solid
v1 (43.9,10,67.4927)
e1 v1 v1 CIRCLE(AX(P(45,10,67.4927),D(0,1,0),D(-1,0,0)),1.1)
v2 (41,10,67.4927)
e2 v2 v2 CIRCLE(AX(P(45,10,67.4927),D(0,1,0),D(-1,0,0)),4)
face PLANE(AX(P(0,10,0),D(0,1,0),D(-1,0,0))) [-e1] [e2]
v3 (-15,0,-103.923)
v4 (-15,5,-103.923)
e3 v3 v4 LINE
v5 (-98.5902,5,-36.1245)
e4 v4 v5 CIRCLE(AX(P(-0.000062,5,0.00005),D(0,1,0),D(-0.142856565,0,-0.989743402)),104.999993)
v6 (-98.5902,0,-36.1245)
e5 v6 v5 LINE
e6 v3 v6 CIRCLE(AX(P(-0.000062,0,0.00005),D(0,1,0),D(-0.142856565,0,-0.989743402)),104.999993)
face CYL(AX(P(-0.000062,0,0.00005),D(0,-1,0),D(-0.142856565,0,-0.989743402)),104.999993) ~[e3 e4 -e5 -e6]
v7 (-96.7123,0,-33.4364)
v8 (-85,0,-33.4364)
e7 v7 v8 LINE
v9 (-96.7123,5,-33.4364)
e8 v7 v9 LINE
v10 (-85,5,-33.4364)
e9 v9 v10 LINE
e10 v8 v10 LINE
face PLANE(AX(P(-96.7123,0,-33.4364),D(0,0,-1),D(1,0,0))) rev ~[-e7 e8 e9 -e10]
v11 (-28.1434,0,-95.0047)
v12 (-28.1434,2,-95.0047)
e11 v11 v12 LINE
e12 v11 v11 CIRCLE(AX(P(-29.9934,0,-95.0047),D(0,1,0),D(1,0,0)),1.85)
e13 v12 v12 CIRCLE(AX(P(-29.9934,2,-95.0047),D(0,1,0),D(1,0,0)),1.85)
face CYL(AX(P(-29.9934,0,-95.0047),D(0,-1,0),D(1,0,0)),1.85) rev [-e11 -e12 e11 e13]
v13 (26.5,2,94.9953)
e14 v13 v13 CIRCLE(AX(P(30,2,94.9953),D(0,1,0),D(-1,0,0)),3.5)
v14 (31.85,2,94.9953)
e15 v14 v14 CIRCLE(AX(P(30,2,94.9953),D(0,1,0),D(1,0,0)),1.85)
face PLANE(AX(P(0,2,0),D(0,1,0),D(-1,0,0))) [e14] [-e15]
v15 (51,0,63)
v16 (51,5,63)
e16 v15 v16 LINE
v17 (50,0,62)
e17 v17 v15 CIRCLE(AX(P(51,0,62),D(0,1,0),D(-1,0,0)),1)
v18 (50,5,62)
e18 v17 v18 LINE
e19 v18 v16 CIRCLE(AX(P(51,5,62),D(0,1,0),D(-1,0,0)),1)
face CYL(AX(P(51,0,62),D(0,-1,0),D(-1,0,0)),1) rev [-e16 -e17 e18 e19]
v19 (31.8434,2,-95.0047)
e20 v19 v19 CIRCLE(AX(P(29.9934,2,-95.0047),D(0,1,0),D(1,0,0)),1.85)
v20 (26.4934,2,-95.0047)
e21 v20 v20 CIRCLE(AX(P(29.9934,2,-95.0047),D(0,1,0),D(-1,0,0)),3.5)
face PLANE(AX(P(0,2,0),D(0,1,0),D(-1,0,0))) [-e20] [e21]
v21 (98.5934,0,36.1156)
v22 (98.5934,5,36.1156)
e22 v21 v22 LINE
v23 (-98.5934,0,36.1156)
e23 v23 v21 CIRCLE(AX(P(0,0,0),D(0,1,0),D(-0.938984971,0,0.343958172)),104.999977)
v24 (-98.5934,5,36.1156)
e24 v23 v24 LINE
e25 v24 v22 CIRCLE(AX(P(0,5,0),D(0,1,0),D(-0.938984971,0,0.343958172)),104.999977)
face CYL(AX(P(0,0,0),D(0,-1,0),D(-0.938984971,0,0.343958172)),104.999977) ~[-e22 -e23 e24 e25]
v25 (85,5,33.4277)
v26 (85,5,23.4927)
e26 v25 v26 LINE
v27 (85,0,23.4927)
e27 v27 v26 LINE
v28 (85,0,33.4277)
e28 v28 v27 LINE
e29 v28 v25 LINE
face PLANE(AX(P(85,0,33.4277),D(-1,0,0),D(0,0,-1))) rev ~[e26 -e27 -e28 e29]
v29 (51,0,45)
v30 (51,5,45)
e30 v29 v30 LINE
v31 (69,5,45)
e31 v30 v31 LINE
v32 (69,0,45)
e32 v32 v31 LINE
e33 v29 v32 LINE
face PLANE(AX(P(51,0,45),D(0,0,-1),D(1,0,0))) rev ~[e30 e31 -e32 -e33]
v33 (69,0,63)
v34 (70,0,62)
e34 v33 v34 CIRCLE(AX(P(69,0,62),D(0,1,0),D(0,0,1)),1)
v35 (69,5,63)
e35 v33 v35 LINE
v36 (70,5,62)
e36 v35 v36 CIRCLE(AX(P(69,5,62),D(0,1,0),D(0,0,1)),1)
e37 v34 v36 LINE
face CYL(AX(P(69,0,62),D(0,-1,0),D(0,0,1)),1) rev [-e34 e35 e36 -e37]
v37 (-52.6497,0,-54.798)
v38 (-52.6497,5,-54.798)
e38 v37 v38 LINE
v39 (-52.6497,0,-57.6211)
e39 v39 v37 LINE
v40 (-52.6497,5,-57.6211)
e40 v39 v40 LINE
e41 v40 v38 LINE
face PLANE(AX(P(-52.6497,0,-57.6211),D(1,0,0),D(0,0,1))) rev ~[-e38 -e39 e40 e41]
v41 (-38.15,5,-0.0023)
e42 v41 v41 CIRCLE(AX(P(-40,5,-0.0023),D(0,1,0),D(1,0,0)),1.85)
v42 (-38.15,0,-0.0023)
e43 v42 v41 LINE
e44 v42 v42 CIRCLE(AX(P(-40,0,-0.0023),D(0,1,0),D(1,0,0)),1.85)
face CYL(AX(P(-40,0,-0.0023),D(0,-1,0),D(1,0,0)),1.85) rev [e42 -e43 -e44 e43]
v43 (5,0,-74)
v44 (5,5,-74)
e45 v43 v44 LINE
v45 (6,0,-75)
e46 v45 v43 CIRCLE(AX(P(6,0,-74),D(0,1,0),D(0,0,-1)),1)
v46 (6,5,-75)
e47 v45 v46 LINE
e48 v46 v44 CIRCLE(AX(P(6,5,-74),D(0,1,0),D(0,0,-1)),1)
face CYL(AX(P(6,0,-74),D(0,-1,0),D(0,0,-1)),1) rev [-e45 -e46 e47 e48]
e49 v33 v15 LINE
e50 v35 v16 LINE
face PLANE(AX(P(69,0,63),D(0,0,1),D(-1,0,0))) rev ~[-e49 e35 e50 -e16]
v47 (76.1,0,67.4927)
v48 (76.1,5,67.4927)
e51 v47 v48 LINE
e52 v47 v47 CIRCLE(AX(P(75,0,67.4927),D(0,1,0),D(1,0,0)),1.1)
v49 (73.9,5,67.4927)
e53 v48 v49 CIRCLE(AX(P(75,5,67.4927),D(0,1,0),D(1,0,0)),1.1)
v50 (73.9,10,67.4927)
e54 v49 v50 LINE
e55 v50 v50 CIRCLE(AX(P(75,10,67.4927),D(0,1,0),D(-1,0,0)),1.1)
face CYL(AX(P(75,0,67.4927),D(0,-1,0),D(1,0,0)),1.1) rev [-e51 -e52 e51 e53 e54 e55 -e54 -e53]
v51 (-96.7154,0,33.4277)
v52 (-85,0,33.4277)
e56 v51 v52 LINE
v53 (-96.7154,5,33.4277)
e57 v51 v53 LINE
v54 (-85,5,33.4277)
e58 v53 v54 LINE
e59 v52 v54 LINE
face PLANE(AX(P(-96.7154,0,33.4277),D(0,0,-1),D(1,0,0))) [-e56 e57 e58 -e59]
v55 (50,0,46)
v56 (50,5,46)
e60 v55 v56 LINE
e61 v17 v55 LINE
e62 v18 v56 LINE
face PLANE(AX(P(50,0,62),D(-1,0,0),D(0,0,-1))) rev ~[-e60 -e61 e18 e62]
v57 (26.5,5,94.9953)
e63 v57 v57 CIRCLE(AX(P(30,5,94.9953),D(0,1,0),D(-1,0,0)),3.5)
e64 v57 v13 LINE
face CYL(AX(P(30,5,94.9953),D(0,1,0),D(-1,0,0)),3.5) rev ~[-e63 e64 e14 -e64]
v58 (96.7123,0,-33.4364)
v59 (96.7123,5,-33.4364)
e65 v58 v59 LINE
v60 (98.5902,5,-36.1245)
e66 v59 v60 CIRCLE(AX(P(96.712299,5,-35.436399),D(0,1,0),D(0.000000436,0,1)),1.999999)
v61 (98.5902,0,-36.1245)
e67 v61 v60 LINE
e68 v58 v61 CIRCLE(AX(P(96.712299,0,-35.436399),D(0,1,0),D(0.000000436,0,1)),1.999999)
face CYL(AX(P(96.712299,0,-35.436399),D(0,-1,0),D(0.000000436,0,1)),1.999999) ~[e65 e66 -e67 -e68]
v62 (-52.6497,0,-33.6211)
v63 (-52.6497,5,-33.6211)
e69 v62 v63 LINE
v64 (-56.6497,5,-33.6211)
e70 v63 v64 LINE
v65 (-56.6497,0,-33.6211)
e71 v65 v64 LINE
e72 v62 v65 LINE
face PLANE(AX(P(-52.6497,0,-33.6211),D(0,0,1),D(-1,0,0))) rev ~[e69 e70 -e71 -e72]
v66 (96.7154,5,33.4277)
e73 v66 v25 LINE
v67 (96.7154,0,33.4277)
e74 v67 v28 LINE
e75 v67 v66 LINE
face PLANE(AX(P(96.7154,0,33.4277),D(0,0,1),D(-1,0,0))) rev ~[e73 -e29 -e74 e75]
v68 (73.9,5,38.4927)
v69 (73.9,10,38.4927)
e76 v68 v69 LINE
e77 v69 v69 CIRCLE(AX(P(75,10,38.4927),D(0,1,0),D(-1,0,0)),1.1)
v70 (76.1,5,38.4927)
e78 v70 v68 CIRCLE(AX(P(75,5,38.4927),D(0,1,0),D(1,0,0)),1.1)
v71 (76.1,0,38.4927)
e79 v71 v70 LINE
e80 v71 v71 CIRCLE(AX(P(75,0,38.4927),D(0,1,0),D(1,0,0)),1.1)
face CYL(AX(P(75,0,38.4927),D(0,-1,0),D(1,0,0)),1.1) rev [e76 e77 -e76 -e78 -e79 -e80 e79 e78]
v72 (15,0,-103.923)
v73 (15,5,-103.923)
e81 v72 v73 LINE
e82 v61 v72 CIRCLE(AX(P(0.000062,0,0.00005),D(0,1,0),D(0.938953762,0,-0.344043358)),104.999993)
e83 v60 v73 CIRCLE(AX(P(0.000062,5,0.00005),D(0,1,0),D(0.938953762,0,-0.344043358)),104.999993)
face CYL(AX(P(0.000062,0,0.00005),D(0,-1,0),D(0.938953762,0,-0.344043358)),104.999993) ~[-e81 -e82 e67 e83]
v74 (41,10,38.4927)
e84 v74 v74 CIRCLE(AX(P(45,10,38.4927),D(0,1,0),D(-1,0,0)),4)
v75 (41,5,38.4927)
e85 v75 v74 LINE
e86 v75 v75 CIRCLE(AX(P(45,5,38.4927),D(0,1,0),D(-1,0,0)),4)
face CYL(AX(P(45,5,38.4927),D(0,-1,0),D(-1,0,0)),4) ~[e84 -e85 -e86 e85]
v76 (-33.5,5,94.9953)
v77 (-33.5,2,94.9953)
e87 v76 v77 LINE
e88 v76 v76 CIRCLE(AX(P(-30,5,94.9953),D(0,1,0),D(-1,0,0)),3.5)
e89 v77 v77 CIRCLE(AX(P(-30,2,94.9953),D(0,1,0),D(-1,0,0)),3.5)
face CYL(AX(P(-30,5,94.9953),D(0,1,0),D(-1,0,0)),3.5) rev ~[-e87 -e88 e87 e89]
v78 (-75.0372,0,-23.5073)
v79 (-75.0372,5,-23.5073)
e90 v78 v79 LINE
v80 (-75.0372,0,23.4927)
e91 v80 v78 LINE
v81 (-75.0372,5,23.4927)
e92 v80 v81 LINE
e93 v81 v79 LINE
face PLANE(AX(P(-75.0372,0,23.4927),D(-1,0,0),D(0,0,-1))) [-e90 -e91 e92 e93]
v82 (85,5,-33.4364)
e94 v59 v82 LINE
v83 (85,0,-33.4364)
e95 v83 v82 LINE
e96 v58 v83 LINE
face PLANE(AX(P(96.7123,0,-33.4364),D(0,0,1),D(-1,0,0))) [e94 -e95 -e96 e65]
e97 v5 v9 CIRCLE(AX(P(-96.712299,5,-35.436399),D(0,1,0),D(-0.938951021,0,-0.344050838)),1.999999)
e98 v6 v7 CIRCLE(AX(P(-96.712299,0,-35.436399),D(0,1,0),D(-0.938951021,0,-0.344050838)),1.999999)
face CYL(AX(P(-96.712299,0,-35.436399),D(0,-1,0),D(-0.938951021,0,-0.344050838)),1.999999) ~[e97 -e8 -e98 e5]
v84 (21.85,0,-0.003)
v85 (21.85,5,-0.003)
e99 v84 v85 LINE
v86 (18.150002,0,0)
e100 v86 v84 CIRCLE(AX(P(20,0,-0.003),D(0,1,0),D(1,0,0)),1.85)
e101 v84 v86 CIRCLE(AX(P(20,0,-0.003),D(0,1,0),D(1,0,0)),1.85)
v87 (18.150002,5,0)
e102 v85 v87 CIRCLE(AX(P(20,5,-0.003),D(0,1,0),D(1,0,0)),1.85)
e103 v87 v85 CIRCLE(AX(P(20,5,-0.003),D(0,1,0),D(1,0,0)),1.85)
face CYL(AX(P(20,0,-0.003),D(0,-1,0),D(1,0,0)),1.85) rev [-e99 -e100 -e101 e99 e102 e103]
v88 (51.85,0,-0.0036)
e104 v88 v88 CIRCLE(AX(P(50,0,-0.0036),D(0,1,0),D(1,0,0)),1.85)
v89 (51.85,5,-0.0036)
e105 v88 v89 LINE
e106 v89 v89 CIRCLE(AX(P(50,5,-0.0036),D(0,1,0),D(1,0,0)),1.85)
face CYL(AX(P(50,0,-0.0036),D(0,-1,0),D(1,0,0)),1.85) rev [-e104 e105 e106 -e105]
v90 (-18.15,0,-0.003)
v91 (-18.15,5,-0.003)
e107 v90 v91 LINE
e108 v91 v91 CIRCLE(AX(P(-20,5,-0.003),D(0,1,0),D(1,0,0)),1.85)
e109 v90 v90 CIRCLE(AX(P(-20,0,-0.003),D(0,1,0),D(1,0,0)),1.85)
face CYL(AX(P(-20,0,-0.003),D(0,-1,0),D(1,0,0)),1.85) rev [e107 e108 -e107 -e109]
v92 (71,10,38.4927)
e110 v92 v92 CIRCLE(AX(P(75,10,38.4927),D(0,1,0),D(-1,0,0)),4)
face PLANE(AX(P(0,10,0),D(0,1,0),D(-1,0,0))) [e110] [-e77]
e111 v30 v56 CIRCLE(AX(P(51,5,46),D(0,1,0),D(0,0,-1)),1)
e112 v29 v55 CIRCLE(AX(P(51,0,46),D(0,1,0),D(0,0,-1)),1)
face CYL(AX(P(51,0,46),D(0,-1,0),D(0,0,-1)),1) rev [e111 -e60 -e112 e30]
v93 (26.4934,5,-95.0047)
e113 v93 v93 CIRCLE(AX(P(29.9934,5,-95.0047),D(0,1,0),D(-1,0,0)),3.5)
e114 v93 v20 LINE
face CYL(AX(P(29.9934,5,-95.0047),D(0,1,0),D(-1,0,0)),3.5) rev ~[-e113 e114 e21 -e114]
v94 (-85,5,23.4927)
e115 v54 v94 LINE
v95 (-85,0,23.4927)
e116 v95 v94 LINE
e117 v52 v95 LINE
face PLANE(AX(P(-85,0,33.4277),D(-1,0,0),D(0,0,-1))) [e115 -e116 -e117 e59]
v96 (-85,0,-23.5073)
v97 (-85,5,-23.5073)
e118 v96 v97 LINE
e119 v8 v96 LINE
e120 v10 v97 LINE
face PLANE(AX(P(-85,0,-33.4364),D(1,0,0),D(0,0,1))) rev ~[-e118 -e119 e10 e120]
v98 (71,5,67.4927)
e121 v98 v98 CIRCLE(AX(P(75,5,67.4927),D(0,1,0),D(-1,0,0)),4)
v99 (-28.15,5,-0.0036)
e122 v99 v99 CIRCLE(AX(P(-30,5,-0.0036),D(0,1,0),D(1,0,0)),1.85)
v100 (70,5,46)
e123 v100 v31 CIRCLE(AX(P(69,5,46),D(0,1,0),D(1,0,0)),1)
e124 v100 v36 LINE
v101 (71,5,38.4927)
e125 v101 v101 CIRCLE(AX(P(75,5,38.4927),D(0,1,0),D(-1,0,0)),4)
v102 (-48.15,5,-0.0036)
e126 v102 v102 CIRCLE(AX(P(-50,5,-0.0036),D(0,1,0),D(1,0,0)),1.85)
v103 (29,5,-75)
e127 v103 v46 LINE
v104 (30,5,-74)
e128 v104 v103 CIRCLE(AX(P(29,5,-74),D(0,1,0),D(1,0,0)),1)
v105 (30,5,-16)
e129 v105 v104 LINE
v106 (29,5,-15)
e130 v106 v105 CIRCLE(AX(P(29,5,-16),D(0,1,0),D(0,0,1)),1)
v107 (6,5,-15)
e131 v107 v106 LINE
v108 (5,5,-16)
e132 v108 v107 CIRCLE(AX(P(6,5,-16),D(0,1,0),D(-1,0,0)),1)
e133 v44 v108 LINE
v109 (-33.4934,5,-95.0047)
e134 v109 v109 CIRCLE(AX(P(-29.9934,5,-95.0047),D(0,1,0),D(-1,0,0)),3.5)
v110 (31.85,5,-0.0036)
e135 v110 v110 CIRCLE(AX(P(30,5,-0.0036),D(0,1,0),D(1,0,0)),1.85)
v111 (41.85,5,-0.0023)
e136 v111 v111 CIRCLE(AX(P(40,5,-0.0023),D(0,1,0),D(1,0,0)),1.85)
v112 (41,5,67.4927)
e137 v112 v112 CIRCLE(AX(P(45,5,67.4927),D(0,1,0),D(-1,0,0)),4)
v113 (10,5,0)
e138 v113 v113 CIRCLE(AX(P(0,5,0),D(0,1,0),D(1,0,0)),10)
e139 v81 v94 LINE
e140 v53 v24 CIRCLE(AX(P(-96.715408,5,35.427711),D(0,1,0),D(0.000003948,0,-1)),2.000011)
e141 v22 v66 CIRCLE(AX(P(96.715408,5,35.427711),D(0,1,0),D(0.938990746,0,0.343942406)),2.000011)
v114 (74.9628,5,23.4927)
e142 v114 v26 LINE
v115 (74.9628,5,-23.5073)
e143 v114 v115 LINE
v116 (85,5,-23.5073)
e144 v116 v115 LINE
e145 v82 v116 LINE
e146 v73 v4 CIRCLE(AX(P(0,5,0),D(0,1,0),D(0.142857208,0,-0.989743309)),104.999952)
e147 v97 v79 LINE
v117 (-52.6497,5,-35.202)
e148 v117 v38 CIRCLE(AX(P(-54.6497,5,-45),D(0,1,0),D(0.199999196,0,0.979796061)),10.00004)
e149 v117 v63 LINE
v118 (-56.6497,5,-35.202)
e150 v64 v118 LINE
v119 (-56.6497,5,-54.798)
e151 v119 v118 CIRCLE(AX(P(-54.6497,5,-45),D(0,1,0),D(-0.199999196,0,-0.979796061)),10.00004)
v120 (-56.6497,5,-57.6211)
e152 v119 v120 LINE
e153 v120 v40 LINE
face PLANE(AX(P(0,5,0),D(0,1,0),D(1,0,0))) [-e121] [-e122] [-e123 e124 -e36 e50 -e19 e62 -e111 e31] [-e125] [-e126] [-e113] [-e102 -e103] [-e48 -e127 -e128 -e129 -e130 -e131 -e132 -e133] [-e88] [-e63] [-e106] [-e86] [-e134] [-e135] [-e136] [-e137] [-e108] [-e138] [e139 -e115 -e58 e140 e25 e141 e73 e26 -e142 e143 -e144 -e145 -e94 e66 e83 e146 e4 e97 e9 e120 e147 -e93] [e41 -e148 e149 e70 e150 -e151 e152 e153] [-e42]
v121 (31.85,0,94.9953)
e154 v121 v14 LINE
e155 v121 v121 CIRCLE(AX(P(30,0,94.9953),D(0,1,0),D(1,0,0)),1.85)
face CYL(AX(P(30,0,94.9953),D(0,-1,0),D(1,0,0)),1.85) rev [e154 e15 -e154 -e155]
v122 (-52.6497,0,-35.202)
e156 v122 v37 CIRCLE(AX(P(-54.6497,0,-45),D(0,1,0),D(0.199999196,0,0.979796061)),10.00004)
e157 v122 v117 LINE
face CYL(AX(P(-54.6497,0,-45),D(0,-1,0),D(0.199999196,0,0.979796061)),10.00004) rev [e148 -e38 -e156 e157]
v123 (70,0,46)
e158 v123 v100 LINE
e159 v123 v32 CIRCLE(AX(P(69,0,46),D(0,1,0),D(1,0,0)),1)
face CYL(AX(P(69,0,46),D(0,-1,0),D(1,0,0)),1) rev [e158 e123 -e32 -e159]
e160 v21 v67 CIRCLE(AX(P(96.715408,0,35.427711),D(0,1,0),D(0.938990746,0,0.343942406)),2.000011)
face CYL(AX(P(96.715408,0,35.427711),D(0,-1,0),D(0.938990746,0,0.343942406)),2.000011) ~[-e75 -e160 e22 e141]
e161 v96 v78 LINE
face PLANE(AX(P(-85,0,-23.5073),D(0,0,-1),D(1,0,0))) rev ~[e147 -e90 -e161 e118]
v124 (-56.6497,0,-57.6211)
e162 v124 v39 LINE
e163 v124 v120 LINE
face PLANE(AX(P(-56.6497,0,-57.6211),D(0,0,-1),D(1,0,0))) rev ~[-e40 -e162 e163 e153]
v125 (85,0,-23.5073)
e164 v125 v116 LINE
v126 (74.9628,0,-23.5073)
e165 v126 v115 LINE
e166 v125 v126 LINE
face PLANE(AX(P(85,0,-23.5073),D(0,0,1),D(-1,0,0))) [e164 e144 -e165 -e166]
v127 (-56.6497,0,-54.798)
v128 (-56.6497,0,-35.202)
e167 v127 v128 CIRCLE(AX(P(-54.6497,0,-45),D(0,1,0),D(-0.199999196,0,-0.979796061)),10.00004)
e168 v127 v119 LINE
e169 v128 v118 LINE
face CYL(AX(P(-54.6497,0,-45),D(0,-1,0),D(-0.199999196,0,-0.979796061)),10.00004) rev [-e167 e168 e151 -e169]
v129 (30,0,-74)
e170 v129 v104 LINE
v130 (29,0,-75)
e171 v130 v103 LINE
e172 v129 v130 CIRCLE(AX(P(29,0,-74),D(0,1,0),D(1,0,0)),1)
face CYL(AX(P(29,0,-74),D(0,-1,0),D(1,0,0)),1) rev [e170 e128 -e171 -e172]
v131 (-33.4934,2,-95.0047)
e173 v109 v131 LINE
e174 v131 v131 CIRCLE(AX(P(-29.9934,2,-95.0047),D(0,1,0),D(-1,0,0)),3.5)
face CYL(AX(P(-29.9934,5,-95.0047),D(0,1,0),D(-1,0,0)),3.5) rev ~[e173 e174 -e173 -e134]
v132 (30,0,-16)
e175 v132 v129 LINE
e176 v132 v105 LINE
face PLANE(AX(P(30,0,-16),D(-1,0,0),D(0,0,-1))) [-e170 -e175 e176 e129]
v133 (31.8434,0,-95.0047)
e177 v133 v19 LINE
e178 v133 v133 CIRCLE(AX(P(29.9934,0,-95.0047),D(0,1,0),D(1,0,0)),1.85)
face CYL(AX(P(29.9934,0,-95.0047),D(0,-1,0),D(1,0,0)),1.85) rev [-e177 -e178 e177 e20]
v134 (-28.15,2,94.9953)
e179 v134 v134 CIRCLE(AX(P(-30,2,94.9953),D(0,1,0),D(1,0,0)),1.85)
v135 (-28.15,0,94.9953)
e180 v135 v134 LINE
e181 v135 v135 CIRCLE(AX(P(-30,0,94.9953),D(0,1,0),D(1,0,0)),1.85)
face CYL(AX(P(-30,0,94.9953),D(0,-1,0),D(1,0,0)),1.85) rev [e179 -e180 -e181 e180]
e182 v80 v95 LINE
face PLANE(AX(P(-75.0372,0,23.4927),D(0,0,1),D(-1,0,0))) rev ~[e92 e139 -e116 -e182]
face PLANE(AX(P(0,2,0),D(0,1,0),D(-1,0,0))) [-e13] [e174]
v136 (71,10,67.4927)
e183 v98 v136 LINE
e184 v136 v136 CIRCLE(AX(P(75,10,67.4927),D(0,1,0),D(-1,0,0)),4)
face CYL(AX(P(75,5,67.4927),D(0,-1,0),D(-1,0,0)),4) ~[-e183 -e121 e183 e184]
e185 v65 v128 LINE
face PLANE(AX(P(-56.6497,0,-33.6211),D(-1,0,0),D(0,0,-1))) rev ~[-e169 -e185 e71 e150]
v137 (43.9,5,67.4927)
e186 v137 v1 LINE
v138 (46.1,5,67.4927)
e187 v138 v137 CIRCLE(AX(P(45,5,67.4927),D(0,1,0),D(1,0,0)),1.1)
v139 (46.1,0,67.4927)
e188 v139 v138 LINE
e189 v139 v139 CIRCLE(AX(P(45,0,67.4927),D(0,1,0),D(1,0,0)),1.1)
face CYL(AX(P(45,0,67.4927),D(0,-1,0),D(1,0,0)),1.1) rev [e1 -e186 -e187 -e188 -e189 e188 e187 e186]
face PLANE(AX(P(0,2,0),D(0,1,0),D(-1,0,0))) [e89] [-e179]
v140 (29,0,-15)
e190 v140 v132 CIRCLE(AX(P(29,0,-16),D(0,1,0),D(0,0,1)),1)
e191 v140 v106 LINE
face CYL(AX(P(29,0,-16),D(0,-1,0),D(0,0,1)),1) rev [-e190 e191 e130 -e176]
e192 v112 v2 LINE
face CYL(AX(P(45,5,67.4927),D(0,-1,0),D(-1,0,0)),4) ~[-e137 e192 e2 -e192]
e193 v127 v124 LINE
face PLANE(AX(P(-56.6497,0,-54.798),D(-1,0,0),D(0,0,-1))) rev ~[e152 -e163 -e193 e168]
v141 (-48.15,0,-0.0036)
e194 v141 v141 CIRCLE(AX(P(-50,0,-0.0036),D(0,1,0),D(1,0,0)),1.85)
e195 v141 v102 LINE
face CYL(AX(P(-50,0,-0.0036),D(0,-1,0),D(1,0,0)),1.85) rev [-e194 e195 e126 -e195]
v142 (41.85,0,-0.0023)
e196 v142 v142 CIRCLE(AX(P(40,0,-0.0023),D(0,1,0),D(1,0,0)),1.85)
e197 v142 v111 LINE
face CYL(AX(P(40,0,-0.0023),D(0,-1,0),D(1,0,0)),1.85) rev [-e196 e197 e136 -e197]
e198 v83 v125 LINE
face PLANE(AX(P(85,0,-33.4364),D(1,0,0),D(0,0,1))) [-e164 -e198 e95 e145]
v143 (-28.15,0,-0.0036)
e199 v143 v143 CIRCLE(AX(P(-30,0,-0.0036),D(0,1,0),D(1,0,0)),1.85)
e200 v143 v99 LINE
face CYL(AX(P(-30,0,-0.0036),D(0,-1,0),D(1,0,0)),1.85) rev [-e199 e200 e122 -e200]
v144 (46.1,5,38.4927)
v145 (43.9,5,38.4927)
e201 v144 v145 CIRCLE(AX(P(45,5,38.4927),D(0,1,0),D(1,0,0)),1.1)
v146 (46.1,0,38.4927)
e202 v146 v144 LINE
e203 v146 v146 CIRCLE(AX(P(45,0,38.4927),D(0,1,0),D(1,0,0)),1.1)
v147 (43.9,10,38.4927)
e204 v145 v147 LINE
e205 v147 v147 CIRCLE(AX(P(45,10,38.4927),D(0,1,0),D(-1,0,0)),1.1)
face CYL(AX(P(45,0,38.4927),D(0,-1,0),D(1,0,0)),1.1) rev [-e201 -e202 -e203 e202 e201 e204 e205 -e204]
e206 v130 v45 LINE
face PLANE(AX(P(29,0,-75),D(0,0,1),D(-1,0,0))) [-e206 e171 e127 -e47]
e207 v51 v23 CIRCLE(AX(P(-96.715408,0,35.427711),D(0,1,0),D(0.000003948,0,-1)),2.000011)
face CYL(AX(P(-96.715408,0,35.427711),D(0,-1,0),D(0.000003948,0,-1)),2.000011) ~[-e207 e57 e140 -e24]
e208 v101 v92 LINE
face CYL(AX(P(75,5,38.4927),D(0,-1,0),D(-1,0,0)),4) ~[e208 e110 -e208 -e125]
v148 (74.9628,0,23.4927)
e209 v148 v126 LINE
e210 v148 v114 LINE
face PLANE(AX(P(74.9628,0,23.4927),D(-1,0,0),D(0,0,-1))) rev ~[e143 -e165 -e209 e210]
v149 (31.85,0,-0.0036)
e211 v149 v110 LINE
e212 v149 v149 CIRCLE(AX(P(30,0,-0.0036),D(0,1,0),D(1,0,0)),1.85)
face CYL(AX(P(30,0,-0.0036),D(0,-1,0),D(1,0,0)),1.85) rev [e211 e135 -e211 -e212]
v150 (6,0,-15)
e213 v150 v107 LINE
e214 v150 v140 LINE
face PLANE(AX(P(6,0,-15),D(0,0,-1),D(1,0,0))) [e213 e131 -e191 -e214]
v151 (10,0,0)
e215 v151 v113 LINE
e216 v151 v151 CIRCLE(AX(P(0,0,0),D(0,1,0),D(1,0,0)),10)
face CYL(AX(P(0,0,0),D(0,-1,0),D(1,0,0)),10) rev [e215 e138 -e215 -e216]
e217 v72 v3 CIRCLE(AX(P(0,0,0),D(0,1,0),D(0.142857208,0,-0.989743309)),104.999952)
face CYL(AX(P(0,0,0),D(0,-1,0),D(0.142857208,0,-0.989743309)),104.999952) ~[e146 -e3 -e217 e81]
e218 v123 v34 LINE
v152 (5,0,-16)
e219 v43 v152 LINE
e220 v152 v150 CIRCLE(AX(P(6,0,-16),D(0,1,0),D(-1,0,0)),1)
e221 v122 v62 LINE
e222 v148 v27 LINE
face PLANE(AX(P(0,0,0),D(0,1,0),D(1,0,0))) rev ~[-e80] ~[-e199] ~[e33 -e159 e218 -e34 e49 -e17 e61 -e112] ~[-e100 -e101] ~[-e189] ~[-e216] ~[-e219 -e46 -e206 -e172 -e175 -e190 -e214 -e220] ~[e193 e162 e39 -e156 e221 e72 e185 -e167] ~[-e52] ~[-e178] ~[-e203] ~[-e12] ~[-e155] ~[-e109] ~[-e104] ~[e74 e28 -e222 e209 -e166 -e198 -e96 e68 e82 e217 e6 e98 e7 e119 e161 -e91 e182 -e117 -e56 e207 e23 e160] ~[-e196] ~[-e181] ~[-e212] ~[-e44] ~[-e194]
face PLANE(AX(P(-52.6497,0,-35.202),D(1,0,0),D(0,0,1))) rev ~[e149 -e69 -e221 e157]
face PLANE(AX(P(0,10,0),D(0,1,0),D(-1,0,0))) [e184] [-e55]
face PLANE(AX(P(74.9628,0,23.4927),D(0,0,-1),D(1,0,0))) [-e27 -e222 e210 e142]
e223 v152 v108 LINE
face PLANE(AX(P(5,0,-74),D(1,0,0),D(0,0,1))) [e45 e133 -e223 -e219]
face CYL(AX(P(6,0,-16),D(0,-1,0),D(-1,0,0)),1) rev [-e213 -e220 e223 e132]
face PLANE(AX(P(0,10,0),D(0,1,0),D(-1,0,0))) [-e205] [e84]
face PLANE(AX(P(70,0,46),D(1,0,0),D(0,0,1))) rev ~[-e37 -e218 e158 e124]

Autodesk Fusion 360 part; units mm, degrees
sketch "podklad" plane through (0, 0, 0) normal (0, 1, 0) x (1, 0, 0)
  line L0 (45, -67.4927) -> (75, -67.4927) construction
  line L1 (-75.0372, -23.4927) -> (-85, -23.4927)
  arc A0 (96.7123, 33.4364) -> (98.5902, 36.1245) centre (96.7123, 35.4364) ccw
  line L2 (45, -38.4927) -> (45, -67.4927) construction
  line L3 (85, -33.4277) -> (85, -23.4927)
  line L4 (-75.0372, -23.4927) -> (-75.0372, 23.5073)
  line L5 (74.9628, -23.4927) -> (74.9628, 23.5073)
  line L6 (0, 105) -> (0, -105) construction
  line L7 (-85, 23.5073) -> (-75.0372, 23.5073)
  arc A1 (-98.5902, 36.1245) -> (-96.7123, 33.4364) centre (-96.7123, 35.4364) ccw
  arc A2 (-96.7154, -33.4277) -> (-98.5934, -36.1156) centre (-96.7154, -35.4277) ccw
  line L8 (74.9628, -23.4927) -> (85, -23.4927)
  line L9 (85, 23.5073) -> (74.9628, 23.5073)
  line L10 (-85, 33.4364) -> (-85, 23.5073)
  arc A3 (-98.5934, -36.1156) -> (98.5934, -36.1156) centre (0, 0) ccw
  line L11 (85, 33.4364) -> (85, 23.5073)
  line L12 (96.7123, 33.4364) -> (85, 33.4364)
  line L13 (-96.7154, -33.4277) -> (-85, -33.4277)
  arc A4 (98.5934, -36.1156) -> (96.7154, -33.4277) centre (96.7154, -35.4277) ccw
  line L14 (75, -67.4927) -> (75, -38.4927) construction
  arc A5 (98.5902, 36.1245) -> (15, 103.923) centre (0, 0) ccw
  arc A6 (15, 103.923) -> (-15, 103.923) centre (0, 0) ccw
  arc A7 (-15, 103.923) -> (-98.5902, 36.1245) centre (0, 0) ccw
  circle A8 centre (75, -38.4927) radius 1.1
  line L15 (75, -38.4927) -> (45, -38.4927) construction
  line L16 (-96.7123, 33.4364) -> (-85, 33.4364)
  circle A9 centre (75, -67.4927) radius 1.1
  circle A10 centre (45, -38.4927) radius 1.1
  line L17 (96.7154, -33.4277) -> (85, -33.4277)
  line L18 (-85, -33.4277) -> (-85, -23.4927)
  circle A11 centre (45, -67.4927) radius 1.1
  line L19 (51, -45) -> (69, -45)
  line L20 (70, -46) -> (70, -62)
  line L21 (69, -63) -> (51, -63)
  line L22 (50, -62) -> (50, -46)
  circle A12 centre (-30, -94.9953) radius 1.85
  circle A13 centre (30, -94.9953) radius 1.85
  circle A14 centre (-29.9934, 95.0047) radius 1.85
  circle A15 centre (29.9934, 95.0047) radius 1.85
  circle A16 centre (0, 0) radius 10
  circle A17 centre (-20, 0.003) radius 1.85
  circle A18 centre (-30, 0.0036) radius 1.85
  circle A19 centre (-40, 0.0023) radius 1.85
  circle A20 centre (-50, 0.0036) radius 1.85
  circle A21 centre (50, 0.0036) radius 1.85
  circle A22 centre (40, 0.0023) radius 1.85
  circle A23 centre (30, 0.0036) radius 1.85
  circle A24 centre (20, 0.003) radius 1.85
  arc A25 (51, -45) -> (50, -46) centre (51, -46) ccw
  arc A26 (70, -46) -> (69, -45) centre (69, -46) ccw
  arc A27 (69, -63) -> (70, -62) centre (69, -62) ccw
  arc A28 (50, -62) -> (51, -63) centre (51, -62) ccw
  line L23 (2.5, 0) -> (20, 0)
  line L24 (6, 15) -> (29, 15)
  line L25 (30, 16) -> (30, 74)
  line L26 (29, 75) -> (6, 75)
  line L27 (5, 74) -> (5, 16)
  arc A29 (6, 75) -> (5, 74) centre (6, 74) ccw
  arc A30 (30, 74) -> (29, 75) centre (29, 74) ccw
  arc A31 (29, 15) -> (30, 16) centre (29, 16) ccw
  arc A32 (5, 16) -> (6, 15) centre (6, 16) ccw
  line L28 (-56.6497, 57.6211) -> (-52.6497, 57.6211)
  line L29 (-52.6497, 33.6211) -> (-56.6497, 33.6211)
  line L30 (-56.6497, 33.6211) -> (-56.6497, 35.202)
  line L31 (-56.6497, 54.798) -> (-56.6497, 57.6211)
  line L32 (-52.6497, 57.6211) -> (-52.6497, 54.798)
  line L33 (-52.6497, 35.202) -> (-52.6497, 33.6211)
  arc A33 (-56.6497, 54.798) -> (-56.6497, 35.202) centre (-54.6497, 45) ccw
  arc A34 (-52.6497, 35.202) -> (-52.6497, 54.798) centre (-54.6497, 45) ccw
  point P0 (-7.5, -102.9967)
  point P1 (-82.0372, 22.8073)
  point P2 (-17.0372, -22.7927)
  point P3 (81.9628, 22.8073)
  point P4 (-0.0372, 0.0073)
  point P5 (-82.0372, -22.7927)
  point P6 (16.9628, 27.0073)
  point P7 (16.9628, 22.8073)
  point P8 (-17.0372, 27.0073)
  point P9 (16.9628, -22.7927)
  point P10 (81.9628, -22.7927)
  point P11 (16.9628, -26.9927)
  dimension "d1" = 210
  dimension "d2" = 2
  dimension "d3" = 2
  dimension "d4" = 2
  dimension "d5" = 2
  dimension "d26" = 30
  dimension "d27" = 29
  dimension "d28" = 2.2
  dimension "d29" = 2.2
  dimension "d30" = 2.2
  dimension "d31" = 2.2
  dimension "d32" = 45
  dimension "d33" = 15
  dimension "d39" = 3.7
  dimension "d40" = 20
  dimension "d41" = 3.7
  dimension "d42" = 3.7
  dimension "d43" = 3.7
  dimension "d44" = 20
  dimension "d45" = 30
  dimension "d46" = 40
  dimension "d47" = 3.7
  dimension "d48" = 50
  dimension "d49" = 1
  dimension "d50" = 1
  dimension "d51" = 1
  dimension "d52" = 1
  dimension "d74" = 1
  dimension "d75" = 20
  dimension "d76" = 4
  dimension "d77" = 24
  dimension "d78" = 2
extrude "Extrude1" add sketch "podklad" along normal blind 5
sketch "diry_hlavy_sroubu" plane through (0, 5, 0) normal (0, 1, 0) x (-1, 0, 0)
  circle A0 centre (29.9934, -95.0047) radius 1.85
  circle A1 centre (-29.9934, -95.0047) radius 1.85
  circle A2 centre (0, 0) radius 10
  circle A3 centre (40, -0.0023) radius 1.85
  circle A4 centre (-30, -0.0036) radius 1.85
  circle A5 centre (30, -0.0036) radius 1.85
  arc A6 (-51, 45) -> (-50, 46) centre (-51, 46) ccw
  line L0 (-51, 45) -> (-69, 45)
  arc A7 (-70, 46) -> (-69, 45) centre (-69, 46) ccw
  line L1 (-70, 46) -> (-70, 62)
  arc A8 (-69, 63) -> (-70, 62) centre (-69, 62) ccw
  line L2 (-69, 63) -> (-51, 63)
  arc A9 (-50, 62) -> (-51, 63) centre (-51, 62) ccw
  line L3 (-50, 62) -> (-50, 46)
  circle A10 centre (-45, 67.4927) radius 1.1
  circle A11 centre (-30, 94.9953) radius 1.85
  circle A12 centre (-50, -0.0036) radius 1.85
  circle A13 centre (-45, 38.4927) radius 1.1
  circle A14 centre (-75, 67.4927) radius 1.1
  circle A15 centre (50, -0.0036) radius 1.85
  circle A16 centre (30, 94.9953) radius 1.85
  circle A17 centre (-40, -0.0023) radius 1.85
  circle A18 centre (-20, -0.003) radius 1.85
  circle A19 centre (20, -0.003) radius 1.85
  circle A20 centre (-75, 38.4927) radius 1.1
  arc A21 (96.7154, 33.4277) -> (98.5934, 36.1156) centre (96.7154, 35.4277) ccw
  arc A22 (98.5934, 36.1156) -> (-98.5934, 36.1156) centre (0, 0) ccw
  arc A23 (-98.5934, 36.1156) -> (-96.7154, 33.4277) centre (-96.7154, 35.4277) ccw
  line L4 (-96.7154, 33.4277) -> (-85, 33.4277)
  line L5 (-85, 33.4277) -> (-85, 23.4927)
  line L6 (-85, 23.4927) -> (-74.9628, 23.4927)
  line L7 (-74.9628, 23.4927) -> (-74.9628, -23.5073)
  line L8 (-74.9628, -23.5073) -> (-85, -23.5073)
  line L9 (-85, -23.5073) -> (-85, -33.4364)
  line L10 (-85, -33.4364) -> (-96.7123, -33.4364)
  arc A24 (-96.7123, -33.4364) -> (-98.5902, -36.1245) centre (-96.7123, -35.4364) ccw
  arc A25 (-98.5902, -36.1245) -> (98.5902, -36.1245) centre (0, 0) ccw
  arc A26 (98.5902, -36.1245) -> (96.7123, -33.4364) centre (96.7123, -35.4364) ccw
  line L11 (96.7123, -33.4364) -> (85, -33.4364)
  line L12 (85, -33.4364) -> (85, -23.5073)
  line L13 (85, -23.5073) -> (75.0372, -23.5073)
  line L14 (75.0372, -23.5073) -> (75.0372, 23.4927)
  line L15 (75.0372, 23.4927) -> (85, 23.4927)
  line L16 (85, 23.4927) -> (85, 33.4277)
  line L17 (85, 33.4277) -> (96.7154, 33.4277)
  circle A27 centre (29.9934, -95.0047) radius 3.5
  circle A28 centre (-29.9934, -95.0047) radius 3.5
  circle A29 centre (30, 94.9953) radius 3.5
  circle A30 centre (-30, 94.9953) radius 3.5
  line L18 (-5, -16) -> (-5, -74)
  line L19 (-6, -75) -> (-29, -75)
  line L20 (-30, -74) -> (-30, -16)
  line L21 (-29, -15) -> (-6, -15)
  arc A31 (-5, -16) -> (-6, -15) centre (-6, -16) ccw
  arc A32 (-6, -75) -> (-5, -74) centre (-6, -74) ccw
  arc A33 (-30, -74) -> (-29, -75) centre (-29, -74) ccw
  arc A34 (-29, -15) -> (-30, -16) centre (-29, -16) ccw
  line L22 (52.6497, -35.202) -> (52.6497, -33.6211)
  line L23 (52.6497, -33.6211) -> (56.6497, -33.6211)
  line L24 (56.6497, -33.6211) -> (56.6497, -35.202)
  arc A35 (56.6497, -54.798) -> (56.6497, -35.202) centre (54.6497, -45) ccw
  line L25 (56.6497, -54.798) -> (56.6497, -57.6211)
  line L26 (56.6497, -57.6211) -> (52.6497, -57.6211)
  line L27 (52.6497, -57.6211) -> (52.6497, -54.798)
  arc A36 (52.6497, -35.202) -> (52.6497, -54.798) centre (54.6497, -45) ccw
  dimension "d55" = 7
  dimension "d56" = 7
  dimension "d57" = 7
  dimension "d58" = 7
extrude "Extrude3" cut sketch "diry_hlavy_sroubu" against normal blind 3 contours A27 | A28 | A29 | A30
sketch "sloupky_displej" plane through (0, 5, 0) normal (0, 1, 0) x (-1, 0, 0)
  circle A0 centre (-45, 38.4927) radius 4
  circle A1 centre (-75, 38.4927) radius 4
  circle A2 centre (-45, 67.4927) radius 4
  circle A3 centre (-75, 67.4927) radius 4
  circle A4 centre (-45, 67.4927) radius 1.1
  circle A5 centre (-75, 67.4927) radius 1.1
  circle A6 centre (-75, 38.4927) radius 1.1
  circle A7 centre (-45, 38.4927) radius 1.1
  point P0 (-45, 38.4927)
  point P1 (-75, 38.4927)
  point P2 (-45, 67.4927)
  point P3 (-75, 67.4927)
  point P4 (-43.9, 67.4927)
  point P5 (-73.9, 67.4927)
  point P6 (-73.9, 38.4927)
  point P7 (-43.9, 38.4927)
  dimension "d63" = 8
  dimension "d64" = 8
  dimension "d65" = 8
  dimension "d66" = 8
extrude "Extrude4" add sketch "sloupky_displej" along normal blind 5
